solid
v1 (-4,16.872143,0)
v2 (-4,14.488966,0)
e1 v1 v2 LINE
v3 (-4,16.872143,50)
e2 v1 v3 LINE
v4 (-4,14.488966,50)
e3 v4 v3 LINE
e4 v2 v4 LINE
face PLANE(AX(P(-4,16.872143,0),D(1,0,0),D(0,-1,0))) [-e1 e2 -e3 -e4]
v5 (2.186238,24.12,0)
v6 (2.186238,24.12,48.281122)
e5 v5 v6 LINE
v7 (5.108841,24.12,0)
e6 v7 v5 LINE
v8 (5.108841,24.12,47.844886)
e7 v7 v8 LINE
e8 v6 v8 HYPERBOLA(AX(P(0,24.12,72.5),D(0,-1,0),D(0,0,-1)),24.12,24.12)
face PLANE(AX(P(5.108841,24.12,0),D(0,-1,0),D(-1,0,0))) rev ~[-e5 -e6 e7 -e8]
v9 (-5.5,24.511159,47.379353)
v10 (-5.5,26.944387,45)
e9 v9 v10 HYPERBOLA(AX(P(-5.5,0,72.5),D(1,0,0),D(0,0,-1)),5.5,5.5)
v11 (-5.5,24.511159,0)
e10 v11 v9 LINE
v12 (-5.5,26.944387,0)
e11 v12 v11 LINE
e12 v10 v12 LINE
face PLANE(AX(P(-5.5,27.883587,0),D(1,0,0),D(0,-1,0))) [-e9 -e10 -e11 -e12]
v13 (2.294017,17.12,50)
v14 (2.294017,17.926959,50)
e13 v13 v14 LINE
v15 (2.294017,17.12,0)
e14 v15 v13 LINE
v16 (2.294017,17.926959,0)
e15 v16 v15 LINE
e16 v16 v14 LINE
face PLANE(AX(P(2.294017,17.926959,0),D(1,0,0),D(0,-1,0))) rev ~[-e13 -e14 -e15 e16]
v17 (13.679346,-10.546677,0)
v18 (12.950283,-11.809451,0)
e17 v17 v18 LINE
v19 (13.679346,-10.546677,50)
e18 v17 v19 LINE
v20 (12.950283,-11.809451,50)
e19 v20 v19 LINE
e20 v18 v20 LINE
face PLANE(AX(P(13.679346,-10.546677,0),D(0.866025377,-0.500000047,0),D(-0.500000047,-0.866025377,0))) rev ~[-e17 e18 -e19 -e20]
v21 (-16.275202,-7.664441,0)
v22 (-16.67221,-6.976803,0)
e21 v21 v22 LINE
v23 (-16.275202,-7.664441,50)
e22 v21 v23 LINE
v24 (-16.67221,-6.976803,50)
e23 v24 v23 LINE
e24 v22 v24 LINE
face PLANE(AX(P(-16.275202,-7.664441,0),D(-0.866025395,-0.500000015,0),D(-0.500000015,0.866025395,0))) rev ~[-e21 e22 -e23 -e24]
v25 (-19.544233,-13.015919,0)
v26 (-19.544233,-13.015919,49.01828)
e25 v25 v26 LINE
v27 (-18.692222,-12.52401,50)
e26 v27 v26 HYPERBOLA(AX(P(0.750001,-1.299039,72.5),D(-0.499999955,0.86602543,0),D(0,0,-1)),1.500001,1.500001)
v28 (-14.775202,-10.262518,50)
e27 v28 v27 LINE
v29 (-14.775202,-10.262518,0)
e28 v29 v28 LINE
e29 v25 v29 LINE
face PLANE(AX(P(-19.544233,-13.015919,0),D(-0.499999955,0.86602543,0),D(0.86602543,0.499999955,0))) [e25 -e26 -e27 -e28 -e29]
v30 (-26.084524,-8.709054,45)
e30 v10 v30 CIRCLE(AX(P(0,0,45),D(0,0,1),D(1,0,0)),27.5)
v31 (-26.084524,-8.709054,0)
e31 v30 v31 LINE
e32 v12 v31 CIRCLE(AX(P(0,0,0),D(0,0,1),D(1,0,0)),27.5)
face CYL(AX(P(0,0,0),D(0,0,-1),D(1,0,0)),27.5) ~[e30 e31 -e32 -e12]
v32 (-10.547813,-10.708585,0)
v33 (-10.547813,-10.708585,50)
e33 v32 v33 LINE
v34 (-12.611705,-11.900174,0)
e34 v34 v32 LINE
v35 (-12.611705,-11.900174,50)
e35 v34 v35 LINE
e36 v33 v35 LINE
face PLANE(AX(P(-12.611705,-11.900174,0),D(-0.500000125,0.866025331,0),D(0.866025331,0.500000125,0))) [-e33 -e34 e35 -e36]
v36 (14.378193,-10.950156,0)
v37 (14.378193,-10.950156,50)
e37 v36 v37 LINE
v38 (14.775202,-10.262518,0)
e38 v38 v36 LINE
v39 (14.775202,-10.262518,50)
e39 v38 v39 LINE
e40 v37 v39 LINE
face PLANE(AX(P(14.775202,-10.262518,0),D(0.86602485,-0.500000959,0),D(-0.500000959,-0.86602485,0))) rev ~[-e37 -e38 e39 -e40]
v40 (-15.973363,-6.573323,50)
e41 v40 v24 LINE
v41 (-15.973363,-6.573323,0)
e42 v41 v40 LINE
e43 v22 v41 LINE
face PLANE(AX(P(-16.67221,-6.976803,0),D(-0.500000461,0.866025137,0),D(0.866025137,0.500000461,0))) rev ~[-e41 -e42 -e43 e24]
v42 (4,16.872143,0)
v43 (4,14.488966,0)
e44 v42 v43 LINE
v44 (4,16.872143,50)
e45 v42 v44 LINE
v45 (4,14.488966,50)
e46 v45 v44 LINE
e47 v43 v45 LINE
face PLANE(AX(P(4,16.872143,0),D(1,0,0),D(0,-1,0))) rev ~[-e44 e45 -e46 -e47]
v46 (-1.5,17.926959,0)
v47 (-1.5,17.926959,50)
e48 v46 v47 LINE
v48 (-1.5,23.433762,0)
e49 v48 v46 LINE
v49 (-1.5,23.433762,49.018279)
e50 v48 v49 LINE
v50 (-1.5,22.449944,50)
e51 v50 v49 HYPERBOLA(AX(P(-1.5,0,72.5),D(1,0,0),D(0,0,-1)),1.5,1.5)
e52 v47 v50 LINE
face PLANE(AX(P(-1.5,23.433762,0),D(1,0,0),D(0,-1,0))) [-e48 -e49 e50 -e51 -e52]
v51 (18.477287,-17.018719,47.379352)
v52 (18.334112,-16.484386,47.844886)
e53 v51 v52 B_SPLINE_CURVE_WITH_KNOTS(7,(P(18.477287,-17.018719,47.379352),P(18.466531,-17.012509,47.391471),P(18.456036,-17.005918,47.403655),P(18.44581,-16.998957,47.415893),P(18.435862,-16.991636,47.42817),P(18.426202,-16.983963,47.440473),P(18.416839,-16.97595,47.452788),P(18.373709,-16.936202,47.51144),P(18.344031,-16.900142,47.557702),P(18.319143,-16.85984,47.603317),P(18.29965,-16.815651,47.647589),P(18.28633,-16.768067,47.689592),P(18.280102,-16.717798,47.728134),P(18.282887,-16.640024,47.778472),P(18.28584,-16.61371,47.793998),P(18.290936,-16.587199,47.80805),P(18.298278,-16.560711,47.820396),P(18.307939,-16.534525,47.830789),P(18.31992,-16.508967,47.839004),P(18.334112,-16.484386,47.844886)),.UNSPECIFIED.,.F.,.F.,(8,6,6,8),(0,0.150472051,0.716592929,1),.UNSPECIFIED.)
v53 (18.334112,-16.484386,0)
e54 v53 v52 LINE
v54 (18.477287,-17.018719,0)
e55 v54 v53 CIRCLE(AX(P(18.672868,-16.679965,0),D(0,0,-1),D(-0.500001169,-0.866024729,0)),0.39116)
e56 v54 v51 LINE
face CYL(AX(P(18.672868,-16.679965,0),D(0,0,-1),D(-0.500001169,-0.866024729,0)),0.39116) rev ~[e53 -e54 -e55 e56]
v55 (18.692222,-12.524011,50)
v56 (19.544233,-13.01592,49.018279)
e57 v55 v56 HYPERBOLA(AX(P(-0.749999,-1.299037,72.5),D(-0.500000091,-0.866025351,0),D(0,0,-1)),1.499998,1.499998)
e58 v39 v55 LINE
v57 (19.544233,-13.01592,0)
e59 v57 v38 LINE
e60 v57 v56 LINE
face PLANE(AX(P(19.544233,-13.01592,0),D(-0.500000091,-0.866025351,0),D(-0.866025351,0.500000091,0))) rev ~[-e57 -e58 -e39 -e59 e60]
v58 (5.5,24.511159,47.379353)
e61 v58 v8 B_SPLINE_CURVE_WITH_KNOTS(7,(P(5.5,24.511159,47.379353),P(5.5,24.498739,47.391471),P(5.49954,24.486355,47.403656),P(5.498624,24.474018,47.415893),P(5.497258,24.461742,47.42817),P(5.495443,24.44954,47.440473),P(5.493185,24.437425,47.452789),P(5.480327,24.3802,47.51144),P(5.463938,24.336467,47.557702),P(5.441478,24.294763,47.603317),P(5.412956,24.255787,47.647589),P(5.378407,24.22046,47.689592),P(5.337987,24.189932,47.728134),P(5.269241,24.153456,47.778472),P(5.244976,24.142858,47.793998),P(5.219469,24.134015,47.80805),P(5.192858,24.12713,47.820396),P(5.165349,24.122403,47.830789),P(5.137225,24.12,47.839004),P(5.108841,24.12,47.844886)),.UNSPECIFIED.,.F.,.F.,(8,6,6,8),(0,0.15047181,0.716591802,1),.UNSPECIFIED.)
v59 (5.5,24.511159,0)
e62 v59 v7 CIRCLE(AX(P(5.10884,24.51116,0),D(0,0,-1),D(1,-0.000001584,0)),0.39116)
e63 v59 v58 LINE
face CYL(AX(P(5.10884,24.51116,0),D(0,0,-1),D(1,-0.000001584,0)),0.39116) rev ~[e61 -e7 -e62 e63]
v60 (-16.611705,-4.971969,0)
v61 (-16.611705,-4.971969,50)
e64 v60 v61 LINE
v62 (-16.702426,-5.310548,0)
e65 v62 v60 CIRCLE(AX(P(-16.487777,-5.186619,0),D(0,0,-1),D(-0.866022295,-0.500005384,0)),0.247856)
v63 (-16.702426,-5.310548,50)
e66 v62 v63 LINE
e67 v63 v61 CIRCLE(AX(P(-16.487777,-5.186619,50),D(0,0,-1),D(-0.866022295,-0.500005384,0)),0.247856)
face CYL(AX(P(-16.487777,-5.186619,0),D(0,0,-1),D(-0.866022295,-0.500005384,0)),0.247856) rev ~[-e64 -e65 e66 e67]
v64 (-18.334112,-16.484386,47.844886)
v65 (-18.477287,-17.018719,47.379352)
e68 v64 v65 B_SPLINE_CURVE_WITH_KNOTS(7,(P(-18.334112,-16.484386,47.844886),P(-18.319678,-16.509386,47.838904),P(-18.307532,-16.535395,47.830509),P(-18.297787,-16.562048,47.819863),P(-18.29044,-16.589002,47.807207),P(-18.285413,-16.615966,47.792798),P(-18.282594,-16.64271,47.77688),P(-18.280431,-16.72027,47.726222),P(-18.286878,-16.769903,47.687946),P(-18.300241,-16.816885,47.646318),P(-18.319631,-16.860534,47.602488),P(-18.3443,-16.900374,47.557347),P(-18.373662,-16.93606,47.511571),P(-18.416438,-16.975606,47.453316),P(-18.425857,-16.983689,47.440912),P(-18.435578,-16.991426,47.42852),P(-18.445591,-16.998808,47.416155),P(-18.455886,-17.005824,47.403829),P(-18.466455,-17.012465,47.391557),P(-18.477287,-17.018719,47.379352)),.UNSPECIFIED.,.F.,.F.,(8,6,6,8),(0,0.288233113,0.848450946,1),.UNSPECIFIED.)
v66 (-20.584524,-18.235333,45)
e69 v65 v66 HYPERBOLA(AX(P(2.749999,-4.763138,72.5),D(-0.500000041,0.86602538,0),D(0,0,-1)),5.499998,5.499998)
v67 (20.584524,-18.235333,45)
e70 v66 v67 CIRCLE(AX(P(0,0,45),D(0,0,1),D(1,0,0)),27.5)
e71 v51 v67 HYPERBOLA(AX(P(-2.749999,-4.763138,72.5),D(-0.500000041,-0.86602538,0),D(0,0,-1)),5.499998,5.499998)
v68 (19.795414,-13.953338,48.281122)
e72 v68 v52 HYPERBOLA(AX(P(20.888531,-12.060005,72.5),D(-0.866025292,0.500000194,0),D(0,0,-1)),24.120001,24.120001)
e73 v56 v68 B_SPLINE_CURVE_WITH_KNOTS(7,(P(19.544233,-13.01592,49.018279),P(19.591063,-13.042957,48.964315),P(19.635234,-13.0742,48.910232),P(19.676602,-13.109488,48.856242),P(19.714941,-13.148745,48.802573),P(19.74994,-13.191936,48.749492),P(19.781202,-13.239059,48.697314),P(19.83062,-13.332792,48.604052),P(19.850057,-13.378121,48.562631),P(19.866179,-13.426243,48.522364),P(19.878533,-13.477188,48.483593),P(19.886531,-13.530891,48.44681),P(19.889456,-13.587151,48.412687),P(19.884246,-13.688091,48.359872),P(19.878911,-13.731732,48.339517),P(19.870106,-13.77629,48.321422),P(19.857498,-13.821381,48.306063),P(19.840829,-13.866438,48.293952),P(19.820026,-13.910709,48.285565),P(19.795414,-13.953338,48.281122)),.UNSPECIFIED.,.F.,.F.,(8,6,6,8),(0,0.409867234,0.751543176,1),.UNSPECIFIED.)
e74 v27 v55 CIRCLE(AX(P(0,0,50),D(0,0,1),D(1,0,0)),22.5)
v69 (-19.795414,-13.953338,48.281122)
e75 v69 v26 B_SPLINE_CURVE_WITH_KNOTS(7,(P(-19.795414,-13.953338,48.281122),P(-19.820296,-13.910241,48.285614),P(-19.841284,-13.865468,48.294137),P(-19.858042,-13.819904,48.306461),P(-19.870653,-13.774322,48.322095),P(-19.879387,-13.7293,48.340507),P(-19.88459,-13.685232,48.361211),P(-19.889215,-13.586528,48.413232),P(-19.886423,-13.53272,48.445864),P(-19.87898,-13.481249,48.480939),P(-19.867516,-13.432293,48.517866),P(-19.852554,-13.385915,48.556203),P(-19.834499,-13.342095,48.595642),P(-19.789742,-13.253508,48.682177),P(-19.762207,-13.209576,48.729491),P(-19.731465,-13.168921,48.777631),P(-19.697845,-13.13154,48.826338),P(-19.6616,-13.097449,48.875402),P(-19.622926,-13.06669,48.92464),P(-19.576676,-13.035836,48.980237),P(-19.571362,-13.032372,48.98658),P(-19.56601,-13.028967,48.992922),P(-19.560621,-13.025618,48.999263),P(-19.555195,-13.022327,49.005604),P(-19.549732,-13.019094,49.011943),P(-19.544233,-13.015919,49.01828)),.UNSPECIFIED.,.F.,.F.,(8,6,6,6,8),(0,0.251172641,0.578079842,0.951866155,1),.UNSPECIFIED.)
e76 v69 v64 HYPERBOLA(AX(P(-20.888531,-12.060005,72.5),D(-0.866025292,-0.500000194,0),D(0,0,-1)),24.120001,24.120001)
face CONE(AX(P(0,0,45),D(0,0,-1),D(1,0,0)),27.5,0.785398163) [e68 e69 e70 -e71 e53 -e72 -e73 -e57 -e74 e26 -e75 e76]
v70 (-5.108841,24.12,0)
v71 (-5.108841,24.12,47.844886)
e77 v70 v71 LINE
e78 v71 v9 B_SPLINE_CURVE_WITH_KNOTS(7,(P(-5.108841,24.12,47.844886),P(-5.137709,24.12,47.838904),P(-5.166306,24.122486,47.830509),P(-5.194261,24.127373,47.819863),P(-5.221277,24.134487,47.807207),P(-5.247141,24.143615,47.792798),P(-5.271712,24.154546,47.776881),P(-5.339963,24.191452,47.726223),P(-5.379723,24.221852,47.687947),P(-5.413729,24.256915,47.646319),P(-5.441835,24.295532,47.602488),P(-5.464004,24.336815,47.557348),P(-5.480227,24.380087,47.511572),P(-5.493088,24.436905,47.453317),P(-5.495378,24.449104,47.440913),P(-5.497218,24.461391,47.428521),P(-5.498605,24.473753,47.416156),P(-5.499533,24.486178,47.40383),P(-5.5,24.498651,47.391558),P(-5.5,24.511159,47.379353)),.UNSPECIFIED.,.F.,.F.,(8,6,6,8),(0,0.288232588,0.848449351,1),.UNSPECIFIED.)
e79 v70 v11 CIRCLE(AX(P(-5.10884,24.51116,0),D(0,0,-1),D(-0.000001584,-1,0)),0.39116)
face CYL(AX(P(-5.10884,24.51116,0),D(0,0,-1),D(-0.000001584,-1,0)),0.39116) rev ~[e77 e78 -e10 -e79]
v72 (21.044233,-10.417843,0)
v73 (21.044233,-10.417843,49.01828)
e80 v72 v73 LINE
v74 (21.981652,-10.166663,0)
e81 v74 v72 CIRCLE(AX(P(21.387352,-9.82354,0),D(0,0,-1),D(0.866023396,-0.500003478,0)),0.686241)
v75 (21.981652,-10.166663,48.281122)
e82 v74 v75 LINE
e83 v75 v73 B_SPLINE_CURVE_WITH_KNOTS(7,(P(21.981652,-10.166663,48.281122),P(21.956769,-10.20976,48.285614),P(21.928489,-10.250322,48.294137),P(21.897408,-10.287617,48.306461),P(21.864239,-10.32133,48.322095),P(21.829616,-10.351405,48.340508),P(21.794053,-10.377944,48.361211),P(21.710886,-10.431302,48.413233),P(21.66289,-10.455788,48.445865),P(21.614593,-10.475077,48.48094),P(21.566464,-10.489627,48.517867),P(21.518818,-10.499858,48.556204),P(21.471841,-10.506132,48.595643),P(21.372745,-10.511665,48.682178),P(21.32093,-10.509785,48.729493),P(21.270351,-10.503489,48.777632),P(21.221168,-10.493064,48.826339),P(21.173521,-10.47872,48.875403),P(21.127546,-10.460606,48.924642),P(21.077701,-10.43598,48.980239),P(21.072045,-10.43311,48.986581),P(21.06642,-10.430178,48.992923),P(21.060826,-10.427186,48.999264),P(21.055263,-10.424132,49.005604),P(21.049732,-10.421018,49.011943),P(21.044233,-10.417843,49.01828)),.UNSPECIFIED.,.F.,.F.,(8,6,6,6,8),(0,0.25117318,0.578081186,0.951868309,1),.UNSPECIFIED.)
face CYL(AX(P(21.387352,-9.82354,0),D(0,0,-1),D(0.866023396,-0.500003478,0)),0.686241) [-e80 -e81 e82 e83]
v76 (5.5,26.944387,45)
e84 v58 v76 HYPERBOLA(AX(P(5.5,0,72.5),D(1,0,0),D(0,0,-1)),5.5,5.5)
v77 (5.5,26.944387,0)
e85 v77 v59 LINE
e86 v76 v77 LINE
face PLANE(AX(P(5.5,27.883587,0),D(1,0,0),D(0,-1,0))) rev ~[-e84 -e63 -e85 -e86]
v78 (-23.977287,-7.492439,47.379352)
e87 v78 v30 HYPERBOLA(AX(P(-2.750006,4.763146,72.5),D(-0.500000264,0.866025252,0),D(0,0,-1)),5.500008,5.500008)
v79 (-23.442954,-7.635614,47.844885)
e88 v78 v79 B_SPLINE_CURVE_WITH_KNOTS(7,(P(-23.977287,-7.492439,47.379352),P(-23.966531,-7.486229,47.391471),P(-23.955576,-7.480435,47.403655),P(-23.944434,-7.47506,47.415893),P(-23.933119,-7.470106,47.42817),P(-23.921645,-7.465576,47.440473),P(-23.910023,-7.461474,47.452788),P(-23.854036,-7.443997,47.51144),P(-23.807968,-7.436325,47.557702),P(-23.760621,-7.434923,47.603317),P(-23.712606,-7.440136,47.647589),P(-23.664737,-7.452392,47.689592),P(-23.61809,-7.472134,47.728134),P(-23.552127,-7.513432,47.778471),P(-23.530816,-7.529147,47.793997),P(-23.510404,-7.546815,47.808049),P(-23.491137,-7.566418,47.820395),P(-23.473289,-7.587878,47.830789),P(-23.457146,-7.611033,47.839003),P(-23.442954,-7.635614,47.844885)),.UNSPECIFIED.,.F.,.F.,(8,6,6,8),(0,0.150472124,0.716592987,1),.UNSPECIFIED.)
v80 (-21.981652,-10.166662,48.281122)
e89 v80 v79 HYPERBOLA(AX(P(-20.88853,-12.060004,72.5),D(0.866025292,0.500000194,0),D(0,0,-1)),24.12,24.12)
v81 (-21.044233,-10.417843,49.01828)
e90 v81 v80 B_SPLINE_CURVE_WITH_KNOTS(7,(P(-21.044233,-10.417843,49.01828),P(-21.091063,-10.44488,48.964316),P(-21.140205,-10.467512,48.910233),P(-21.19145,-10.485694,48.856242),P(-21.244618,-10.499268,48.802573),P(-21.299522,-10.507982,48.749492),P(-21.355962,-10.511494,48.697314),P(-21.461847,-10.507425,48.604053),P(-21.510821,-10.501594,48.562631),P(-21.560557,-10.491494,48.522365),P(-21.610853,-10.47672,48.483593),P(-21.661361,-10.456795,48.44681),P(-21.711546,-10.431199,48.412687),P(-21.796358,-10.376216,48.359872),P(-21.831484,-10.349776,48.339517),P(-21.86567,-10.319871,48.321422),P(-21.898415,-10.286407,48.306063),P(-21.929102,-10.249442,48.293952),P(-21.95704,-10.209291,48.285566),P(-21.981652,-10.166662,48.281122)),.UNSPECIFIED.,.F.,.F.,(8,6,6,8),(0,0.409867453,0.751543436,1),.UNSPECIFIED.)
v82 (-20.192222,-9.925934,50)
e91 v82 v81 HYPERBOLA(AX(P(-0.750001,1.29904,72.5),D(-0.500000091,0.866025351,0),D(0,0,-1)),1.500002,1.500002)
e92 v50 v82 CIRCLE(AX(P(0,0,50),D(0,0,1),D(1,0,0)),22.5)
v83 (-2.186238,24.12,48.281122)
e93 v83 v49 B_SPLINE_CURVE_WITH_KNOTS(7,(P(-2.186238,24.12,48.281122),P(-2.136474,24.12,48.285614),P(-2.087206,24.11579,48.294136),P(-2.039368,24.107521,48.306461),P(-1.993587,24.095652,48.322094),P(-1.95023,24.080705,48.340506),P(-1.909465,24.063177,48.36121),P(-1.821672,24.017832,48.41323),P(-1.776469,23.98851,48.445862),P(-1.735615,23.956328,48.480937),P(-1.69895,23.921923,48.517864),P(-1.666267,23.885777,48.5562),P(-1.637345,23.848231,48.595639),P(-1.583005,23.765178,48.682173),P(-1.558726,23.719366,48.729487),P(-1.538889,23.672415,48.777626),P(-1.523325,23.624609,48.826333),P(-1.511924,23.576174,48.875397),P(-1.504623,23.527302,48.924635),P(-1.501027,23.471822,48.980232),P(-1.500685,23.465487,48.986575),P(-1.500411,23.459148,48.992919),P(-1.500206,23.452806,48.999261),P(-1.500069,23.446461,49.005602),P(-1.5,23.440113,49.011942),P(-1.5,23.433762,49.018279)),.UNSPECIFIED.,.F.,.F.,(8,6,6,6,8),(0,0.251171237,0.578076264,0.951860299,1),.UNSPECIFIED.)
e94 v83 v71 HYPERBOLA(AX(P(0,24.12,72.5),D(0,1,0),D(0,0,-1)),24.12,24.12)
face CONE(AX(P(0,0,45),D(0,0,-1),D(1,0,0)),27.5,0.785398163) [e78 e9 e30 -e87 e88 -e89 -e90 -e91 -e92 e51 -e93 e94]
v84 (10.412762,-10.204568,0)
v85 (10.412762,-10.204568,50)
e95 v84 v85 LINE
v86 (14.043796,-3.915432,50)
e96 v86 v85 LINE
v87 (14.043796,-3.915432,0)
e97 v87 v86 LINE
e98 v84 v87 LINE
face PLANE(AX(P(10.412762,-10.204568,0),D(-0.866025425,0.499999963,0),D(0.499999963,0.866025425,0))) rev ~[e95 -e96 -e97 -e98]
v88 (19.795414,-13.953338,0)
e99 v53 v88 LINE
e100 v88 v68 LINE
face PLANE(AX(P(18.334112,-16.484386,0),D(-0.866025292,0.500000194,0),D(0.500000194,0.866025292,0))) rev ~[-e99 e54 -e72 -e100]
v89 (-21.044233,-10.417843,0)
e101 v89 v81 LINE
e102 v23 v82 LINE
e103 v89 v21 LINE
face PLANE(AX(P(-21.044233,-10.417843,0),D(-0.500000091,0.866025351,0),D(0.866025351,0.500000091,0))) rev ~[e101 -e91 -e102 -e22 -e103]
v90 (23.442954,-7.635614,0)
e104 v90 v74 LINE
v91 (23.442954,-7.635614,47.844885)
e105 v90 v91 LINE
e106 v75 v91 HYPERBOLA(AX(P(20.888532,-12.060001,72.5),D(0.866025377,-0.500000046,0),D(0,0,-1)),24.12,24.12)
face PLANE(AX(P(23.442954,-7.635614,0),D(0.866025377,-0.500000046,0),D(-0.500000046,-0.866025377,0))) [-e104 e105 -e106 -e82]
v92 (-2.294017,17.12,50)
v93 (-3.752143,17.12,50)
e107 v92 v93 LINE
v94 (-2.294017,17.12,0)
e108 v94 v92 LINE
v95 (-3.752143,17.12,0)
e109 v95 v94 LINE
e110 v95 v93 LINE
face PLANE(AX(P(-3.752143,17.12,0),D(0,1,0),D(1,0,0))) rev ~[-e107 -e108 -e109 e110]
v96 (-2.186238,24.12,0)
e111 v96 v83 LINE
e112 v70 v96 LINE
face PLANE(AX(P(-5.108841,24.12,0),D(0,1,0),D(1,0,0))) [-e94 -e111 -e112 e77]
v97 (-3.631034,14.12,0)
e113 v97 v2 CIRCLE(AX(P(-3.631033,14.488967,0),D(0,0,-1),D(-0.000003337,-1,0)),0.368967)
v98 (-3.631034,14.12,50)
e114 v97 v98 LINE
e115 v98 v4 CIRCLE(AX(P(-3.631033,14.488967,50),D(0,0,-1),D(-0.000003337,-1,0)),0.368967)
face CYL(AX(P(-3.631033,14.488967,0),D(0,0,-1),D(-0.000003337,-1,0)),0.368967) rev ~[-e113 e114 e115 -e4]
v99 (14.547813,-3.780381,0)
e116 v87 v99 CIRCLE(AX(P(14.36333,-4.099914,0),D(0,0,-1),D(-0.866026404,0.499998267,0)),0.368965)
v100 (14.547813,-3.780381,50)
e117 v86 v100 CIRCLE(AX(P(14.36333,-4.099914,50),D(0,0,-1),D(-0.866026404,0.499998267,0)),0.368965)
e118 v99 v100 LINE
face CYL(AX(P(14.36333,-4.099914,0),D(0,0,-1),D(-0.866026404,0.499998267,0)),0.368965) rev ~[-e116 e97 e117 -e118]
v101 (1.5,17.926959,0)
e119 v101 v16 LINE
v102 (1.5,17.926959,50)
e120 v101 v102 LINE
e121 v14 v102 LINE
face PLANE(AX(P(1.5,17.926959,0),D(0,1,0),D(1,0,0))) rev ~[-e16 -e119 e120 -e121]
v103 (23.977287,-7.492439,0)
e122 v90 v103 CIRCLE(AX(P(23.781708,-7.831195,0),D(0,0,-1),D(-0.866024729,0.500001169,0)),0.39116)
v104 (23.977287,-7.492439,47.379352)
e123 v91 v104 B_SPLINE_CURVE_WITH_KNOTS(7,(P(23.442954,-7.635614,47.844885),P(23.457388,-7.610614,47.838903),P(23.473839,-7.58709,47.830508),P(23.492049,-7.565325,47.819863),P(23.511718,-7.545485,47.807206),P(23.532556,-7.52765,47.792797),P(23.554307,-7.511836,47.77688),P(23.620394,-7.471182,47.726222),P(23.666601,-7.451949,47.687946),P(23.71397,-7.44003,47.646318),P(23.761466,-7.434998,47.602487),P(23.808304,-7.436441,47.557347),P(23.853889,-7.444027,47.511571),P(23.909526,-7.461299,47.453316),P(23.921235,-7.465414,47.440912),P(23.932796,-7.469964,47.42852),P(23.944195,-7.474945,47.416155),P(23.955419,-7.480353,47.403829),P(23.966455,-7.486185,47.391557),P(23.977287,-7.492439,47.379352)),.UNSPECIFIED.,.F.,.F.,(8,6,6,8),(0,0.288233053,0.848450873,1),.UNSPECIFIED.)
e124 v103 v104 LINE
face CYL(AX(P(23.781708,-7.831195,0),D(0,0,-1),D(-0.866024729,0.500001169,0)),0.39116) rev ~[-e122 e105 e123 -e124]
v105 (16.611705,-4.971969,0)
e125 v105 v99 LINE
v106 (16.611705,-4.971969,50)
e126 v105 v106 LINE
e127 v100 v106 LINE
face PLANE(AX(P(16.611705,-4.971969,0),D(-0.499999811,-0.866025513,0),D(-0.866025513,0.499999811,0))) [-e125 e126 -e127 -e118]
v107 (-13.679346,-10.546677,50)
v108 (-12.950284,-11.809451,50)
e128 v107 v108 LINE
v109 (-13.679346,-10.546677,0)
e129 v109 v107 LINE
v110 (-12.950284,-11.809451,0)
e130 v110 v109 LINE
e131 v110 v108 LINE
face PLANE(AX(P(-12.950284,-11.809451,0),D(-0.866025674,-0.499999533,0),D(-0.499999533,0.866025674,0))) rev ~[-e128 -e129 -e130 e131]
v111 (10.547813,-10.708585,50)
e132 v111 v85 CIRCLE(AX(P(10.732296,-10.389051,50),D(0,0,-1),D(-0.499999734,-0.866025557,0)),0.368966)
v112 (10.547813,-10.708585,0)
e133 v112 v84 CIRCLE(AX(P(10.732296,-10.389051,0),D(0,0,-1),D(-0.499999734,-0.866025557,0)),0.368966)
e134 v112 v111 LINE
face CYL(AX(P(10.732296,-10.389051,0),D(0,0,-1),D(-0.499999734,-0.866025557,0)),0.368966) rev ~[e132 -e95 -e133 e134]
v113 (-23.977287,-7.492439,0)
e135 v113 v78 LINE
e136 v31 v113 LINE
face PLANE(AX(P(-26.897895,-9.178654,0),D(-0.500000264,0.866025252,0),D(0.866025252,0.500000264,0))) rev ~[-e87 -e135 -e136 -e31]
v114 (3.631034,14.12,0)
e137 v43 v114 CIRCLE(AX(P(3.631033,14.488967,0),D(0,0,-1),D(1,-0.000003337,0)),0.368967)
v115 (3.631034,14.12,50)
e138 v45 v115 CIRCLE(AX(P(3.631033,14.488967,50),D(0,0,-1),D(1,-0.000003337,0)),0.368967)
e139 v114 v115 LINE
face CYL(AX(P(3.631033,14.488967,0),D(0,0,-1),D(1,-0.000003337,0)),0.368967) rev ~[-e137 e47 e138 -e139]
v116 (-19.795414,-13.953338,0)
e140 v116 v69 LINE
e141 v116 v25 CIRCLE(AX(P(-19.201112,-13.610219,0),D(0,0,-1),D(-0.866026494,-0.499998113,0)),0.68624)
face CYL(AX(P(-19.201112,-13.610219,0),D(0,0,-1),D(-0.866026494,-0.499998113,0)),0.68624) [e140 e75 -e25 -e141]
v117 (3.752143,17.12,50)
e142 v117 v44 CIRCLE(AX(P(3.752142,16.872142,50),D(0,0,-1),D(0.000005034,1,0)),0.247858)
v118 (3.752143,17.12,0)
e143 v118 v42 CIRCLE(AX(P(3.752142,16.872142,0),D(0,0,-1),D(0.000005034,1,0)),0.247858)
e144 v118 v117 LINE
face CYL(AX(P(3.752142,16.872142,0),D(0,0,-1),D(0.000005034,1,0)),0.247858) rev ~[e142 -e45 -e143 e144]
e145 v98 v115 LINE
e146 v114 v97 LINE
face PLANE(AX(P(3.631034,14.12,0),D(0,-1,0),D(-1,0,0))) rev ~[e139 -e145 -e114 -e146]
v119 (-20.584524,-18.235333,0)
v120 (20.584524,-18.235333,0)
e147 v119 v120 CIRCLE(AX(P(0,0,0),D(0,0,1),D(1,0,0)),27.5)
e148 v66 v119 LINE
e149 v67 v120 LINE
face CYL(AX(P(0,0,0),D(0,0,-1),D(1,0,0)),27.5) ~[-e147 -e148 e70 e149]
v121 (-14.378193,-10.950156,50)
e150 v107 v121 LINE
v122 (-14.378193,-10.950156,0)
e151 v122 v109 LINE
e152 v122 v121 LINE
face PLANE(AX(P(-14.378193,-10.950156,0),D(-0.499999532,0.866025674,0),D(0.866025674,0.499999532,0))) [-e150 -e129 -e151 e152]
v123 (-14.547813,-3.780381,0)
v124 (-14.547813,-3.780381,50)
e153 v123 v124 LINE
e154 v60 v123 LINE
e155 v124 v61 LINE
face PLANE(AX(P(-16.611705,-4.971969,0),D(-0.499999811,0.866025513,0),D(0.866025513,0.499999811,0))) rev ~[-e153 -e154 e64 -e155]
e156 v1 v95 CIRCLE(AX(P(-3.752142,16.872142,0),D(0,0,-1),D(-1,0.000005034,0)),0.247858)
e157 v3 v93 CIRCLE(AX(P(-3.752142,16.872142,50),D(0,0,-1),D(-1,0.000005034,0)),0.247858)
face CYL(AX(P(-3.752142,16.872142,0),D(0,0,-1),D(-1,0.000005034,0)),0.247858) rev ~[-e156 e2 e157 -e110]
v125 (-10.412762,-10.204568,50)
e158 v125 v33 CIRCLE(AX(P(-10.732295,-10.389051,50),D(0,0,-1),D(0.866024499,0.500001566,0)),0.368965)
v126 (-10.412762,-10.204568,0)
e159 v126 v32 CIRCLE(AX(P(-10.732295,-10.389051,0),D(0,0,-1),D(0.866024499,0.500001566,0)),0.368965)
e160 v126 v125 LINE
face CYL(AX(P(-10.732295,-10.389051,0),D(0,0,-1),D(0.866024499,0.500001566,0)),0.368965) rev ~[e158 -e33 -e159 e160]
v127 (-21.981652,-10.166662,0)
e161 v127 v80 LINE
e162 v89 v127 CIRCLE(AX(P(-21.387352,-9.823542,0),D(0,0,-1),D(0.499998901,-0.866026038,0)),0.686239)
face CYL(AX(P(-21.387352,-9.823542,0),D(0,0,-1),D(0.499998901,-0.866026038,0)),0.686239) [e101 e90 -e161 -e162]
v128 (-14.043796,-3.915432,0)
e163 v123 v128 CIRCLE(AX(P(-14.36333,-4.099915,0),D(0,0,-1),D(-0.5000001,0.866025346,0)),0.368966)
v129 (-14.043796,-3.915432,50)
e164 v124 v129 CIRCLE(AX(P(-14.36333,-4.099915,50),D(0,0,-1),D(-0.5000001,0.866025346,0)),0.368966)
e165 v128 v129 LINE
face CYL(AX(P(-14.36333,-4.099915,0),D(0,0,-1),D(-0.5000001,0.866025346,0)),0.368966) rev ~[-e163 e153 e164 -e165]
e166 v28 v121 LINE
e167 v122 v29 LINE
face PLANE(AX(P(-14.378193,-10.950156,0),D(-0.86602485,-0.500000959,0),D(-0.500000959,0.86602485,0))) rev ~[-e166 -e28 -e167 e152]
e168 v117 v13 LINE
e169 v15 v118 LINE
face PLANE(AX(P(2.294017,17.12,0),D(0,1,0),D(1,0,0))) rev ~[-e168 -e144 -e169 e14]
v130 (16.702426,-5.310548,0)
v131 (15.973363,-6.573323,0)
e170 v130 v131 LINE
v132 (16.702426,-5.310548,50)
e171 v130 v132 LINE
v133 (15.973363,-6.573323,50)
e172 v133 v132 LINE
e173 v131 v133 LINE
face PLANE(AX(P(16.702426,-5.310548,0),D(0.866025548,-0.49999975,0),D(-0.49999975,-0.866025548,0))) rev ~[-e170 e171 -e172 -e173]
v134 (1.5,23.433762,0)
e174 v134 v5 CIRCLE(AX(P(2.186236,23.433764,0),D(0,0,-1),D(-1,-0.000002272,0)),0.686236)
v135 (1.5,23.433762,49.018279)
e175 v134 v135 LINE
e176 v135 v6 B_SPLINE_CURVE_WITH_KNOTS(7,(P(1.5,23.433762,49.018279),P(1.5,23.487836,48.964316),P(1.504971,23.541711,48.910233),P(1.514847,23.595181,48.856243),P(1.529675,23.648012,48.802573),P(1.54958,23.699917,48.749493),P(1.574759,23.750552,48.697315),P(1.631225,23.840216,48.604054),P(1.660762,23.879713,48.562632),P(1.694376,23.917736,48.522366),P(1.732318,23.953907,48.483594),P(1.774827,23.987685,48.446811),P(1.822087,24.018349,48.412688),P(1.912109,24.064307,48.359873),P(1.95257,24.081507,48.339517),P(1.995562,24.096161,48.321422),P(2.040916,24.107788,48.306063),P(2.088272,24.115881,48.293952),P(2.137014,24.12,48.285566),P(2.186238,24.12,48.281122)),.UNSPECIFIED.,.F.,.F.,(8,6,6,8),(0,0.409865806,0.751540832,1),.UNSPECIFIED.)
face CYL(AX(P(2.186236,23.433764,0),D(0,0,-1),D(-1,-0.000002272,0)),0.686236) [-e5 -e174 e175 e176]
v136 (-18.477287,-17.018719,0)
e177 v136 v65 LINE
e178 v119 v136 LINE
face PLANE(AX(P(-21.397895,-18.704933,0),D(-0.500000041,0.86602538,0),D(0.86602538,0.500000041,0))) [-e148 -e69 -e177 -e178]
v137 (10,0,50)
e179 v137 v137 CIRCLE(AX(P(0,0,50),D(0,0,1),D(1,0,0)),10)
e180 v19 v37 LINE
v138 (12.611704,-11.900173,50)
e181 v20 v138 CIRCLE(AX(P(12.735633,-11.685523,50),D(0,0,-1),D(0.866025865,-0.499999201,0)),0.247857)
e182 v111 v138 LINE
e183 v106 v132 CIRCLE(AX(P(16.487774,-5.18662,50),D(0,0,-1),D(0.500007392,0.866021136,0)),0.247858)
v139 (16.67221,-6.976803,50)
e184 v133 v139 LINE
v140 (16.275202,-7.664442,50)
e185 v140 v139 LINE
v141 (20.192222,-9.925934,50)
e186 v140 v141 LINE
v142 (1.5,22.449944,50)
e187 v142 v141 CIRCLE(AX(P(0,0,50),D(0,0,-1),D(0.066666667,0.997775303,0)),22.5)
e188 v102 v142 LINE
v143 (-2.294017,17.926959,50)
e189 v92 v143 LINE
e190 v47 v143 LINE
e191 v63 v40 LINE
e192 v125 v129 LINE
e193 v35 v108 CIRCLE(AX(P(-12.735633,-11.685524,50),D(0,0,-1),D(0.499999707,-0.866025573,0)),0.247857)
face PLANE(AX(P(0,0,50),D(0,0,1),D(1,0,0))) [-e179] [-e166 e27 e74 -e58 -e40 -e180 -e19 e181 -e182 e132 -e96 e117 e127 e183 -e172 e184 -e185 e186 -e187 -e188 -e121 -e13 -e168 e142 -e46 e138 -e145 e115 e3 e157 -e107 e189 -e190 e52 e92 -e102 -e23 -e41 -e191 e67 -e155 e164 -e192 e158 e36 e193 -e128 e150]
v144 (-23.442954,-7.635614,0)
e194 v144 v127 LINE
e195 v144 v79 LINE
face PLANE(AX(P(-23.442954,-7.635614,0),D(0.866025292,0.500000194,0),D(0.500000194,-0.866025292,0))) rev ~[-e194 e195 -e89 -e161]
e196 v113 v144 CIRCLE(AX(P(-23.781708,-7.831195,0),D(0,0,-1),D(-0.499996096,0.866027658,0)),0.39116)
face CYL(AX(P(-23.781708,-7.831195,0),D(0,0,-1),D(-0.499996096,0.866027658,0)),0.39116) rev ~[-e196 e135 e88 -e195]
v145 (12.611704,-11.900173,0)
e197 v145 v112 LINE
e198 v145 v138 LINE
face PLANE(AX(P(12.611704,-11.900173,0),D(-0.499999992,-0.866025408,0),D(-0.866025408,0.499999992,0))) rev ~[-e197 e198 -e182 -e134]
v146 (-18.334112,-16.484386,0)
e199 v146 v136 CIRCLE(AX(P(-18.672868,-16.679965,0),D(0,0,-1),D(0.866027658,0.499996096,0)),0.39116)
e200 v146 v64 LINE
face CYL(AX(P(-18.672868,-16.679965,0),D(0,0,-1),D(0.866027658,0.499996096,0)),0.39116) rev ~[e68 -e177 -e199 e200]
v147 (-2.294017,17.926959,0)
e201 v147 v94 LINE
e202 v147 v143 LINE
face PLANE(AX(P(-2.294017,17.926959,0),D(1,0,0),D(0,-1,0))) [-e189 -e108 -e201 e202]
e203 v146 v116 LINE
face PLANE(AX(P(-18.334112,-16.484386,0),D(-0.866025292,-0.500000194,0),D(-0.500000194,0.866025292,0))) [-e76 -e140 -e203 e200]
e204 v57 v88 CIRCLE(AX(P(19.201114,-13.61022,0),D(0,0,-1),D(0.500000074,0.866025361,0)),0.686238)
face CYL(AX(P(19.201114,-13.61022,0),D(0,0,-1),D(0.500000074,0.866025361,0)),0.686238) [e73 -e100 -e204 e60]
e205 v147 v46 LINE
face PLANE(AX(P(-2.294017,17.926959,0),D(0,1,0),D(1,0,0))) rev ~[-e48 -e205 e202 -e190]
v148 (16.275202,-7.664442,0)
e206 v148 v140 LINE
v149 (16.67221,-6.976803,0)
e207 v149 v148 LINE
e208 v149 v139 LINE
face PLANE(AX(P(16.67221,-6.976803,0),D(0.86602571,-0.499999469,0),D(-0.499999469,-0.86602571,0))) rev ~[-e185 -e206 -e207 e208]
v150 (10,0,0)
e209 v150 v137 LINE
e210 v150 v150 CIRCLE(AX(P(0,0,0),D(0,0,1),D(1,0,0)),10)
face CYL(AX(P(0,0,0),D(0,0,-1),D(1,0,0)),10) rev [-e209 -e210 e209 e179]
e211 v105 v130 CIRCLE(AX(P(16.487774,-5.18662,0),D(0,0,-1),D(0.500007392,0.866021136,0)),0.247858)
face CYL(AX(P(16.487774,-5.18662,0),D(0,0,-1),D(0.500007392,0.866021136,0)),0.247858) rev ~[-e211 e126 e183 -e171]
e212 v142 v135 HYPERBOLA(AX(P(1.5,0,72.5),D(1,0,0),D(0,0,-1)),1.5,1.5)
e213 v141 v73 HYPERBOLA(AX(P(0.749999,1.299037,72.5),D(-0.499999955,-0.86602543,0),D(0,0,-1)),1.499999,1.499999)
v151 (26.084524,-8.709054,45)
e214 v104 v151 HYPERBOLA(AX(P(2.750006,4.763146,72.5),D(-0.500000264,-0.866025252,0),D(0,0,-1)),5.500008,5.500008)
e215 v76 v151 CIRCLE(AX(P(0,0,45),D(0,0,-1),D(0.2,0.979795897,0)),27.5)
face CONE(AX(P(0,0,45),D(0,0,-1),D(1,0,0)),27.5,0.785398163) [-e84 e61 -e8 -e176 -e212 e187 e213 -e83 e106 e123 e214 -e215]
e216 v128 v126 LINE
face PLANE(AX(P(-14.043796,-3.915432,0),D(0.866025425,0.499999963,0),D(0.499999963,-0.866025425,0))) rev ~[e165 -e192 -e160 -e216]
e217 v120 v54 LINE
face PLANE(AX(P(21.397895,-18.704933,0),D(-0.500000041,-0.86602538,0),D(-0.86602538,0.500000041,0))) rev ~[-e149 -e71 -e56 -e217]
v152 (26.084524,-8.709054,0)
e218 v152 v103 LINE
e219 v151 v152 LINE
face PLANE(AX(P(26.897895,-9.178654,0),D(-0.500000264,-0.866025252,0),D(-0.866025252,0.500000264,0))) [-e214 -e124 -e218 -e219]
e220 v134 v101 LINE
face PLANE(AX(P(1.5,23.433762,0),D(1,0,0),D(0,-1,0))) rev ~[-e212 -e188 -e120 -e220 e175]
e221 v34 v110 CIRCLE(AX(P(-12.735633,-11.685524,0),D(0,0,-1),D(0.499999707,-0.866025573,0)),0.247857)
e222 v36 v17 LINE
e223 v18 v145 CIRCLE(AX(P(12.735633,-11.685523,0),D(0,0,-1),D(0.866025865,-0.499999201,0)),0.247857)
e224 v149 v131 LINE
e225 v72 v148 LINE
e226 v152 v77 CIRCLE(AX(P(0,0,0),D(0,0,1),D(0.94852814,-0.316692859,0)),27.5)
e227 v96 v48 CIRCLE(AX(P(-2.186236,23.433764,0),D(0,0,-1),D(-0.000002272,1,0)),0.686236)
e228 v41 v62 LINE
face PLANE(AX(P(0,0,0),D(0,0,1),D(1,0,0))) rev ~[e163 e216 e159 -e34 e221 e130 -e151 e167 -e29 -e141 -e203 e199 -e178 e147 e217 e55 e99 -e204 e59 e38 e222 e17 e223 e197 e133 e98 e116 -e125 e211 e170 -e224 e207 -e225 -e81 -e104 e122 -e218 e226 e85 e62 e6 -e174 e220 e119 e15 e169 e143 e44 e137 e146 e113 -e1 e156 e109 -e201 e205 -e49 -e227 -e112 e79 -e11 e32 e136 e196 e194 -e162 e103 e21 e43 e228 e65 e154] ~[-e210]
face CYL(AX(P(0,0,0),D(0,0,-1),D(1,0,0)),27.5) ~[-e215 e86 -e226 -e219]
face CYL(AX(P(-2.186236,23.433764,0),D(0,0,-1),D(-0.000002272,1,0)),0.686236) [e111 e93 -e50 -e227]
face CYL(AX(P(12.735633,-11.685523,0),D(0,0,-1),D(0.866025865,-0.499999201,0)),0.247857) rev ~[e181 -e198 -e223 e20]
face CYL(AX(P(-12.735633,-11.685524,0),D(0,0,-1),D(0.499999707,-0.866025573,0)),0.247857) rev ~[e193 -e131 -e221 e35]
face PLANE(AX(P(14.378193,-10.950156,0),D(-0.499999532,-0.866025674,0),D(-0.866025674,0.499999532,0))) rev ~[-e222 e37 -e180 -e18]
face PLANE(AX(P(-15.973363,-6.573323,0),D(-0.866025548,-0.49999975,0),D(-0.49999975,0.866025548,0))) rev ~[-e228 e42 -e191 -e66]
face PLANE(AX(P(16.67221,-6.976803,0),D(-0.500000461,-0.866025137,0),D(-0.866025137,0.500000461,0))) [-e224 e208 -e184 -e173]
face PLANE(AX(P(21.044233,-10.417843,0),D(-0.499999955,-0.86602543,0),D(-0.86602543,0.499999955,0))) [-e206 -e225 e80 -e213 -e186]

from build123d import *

# Parameters (mm, degrees)
SKETCH_R     = 27.5
SKETCH_R_2   = 10
PAD_DEPTH    = 50
CHAMFER_SIZE = 5
POCKET_DEPTH = 50.001


with BuildPart() as part:
    # Sketch → Pad (new body)
    with BuildSketch(Plane.XY):
        Circle(SKETCH_R)
        Circle(SKETCH_R_2, mode=Mode.SUBTRACT)
    extrude(amount=PAD_DEPTH)

    # Chamfer
    chamfer_edges = [part.edges().sort_by_distance(p)[0] for p in [
        (-27.5, 0, 50),
    ]]
    chamfer(chamfer_edges, length=CHAMFER_SIZE)

    # Sketch001 → Pocket (cut, through all)
    with BuildSketch(Plane(origin=(0, 0, 0), x_dir=(1, 0, 0), z_dir=(0, 0, -1))):
        with BuildLine():
            Line((5.5, -27.883587), (5.5, -24.511159))
            ThreePointArc((5.5, -24.511159), (5.385432, -24.234568), (5.108841, -24.12))
            Line((5.108841, -24.12), (2.186238, -24.12))
            ThreePointArc((1.5, -23.433762), (1.700994, -23.919006), (2.186238, -24.12))
            Line((1.5, -23.433762), (1.5, -17.926959))
            Line((1.5, -17.926959), (2.294017, -17.926959))
            Line((2.294017, -17.926959), (2.294017, -17.12))
            Line((2.294017, -17.12), (3.752143, -17.12))
            ThreePointArc((3.752143, -17.12), (3.927404, -17.047404), (4, -16.872143))
            Line((4, -16.872143), (4, -14.488966))
            ThreePointArc((4, -14.488966), (3.891932, -14.228068), (3.631034, -14.12))
            Line((3.631034, -14.12), (-3.631034, -14.12))
            ThreePointArc((-3.631034, -14.12), (-3.891932, -14.228068), (-4, -14.488966))
            Line((-4, -16.872143), (-4, -14.488966))
            ThreePointArc((-4, -16.872143), (-3.927404, -17.047404), (-3.752143, -17.12))
            Line((-3.752143, -17.12), (-2.294017, -17.12))
            Line((-2.294017, -17.926959), (-2.294017, -17.12))
            Line((-2.294017, -17.926959), (-1.5, -17.926959))
            Line((-1.5, -23.433762), (-1.5, -17.926959))
            ThreePointArc((-2.186238, -24.12), (-1.700994, -23.919006), (-1.5, -23.433762))
            Line((-5.108841, -24.12), (-2.186238, -24.12))
            ThreePointArc((-5.108841, -24.12), (-5.385432, -24.234568), (-5.5, -24.511159))
            Line((-5.5, -27.883587), (-5.5, -24.511159))
            Line((-5.5, -27.883587), (5.5, -27.883587))
        make_face()
        with BuildLine():
            Line((21.397895, 18.704933), (18.477287, 17.018719))
            ThreePointArc((18.477287, 17.018719), (18.295036, 16.781205), (18.334112, 16.484386))
            Line((18.334112, 16.484386), (19.795414, 13.953338))
            ThreePointArc((19.544233, 13.01592), (19.863969, 13.432608), (19.795414, 13.953338))
            Line((19.544233, 13.01592), (14.775202, 10.262518))
            Line((14.775202, 10.262518), (14.378193, 10.950156))
            Line((14.378193, 10.950156), (13.679346, 10.546677))
            Line((13.679346, 10.546677), (12.950283, 11.809451))
            ThreePointArc((12.950283, 11.809451), (12.799783, 11.924934), (12.611704, 11.900173))
            Line((12.611704, 11.900173), (10.547813, 10.708585))
            ThreePointArc((10.547813, 10.708585), (10.375902, 10.484546), (10.412762, 10.204568))
            Line((10.412762, 10.204568), (14.043796, 3.915432))
            ThreePointArc((14.043796, 3.915432), (14.267834, 3.743521), (14.547813, 3.780381))
            Line((16.611705, 4.971969), (14.547813, 3.780381))
            ThreePointArc((16.611705, 4.971969), (16.727187, 5.12247), (16.702426, 5.310548))
            Line((16.702426, 5.310548), (15.973363, 6.573323))
            Line((16.67221, 6.976803), (15.973363, 6.573323))
            Line((16.67221, 6.976803), (16.275202, 7.664442))
            Line((21.044233, 10.417843), (16.275202, 7.664442))
            ThreePointArc((21.981652, 10.166663), (21.564963, 10.486398), (21.044233, 10.417843))
            Line((23.442954, 7.635614), (21.981652, 10.166663))
            ThreePointArc((23.442954, 7.635614), (23.680468, 7.453363), (23.977287, 7.492439))
            Line((26.897895, 9.178654), (23.977287, 7.492439))
            Line((26.897895, 9.178654), (21.397895, 18.704933))
        make_face()
        with BuildLine():
            Line((-26.897895, 9.178654), (-23.977287, 7.492439))
            ThreePointArc((-23.977287, 7.492439), (-23.680468, 7.453363), (-23.442954, 7.635614))
            Line((-23.442954, 7.635614), (-21.981652, 10.166662))
            ThreePointArc((-21.044233, 10.417843), (-21.564964, 10.486398), (-21.981652, 10.166662))
            Line((-21.044233, 10.417843), (-16.275202, 7.664441))
            Line((-16.275202, 7.664441), (-16.67221, 6.976803))
            Line((-16.67221, 6.976803), (-15.973363, 6.573323))
            Line((-15.973363, 6.573323), (-16.702426, 5.310548))
            ThreePointArc((-16.702426, 5.310548), (-16.727188, 5.12247), (-16.611705, 4.971969))
            Line((-16.611705, 4.971969), (-14.547813, 3.780381))
            ThreePointArc((-14.547813, 3.780381), (-14.267835, 3.743521), (-14.043796, 3.915432))
            Line((-14.043796, 3.915432), (-10.412762, 10.204568))
            ThreePointArc((-10.412762, 10.204568), (-10.375902, 10.484547), (-10.547813, 10.708585))
            Line((-12.611705, 11.900174), (-10.547813, 10.708585))
            ThreePointArc((-12.611705, 11.900174), (-12.799783, 11.924935), (-12.950284, 11.809451))
            Line((-12.950284, 11.809451), (-13.679346, 10.546677))
            Line((-14.378193, 10.950156), (-13.679346, 10.546677))
            Line((-14.378193, 10.950156), (-14.775202, 10.262518))
            Line((-19.544233, 13.015919), (-14.775202, 10.262518))
            ThreePointArc((-19.795414, 13.953338), (-19.863969, 13.432608), (-19.544233, 13.015919))
            Line((-18.334112, 16.484386), (-19.795414, 13.953338))
            ThreePointArc((-18.334112, 16.484386), (-18.295036, 16.781205), (-18.477287, 17.018719))
            Line((-21.397895, 18.704933), (-18.477287, 17.018719))
            Line((-21.397895, 18.704933), (-26.897895, 9.178654))
        make_face()
    extrude(amount=-POCKET_DEPTH, mode=Mode.SUBTRACT)


solid = part.part
